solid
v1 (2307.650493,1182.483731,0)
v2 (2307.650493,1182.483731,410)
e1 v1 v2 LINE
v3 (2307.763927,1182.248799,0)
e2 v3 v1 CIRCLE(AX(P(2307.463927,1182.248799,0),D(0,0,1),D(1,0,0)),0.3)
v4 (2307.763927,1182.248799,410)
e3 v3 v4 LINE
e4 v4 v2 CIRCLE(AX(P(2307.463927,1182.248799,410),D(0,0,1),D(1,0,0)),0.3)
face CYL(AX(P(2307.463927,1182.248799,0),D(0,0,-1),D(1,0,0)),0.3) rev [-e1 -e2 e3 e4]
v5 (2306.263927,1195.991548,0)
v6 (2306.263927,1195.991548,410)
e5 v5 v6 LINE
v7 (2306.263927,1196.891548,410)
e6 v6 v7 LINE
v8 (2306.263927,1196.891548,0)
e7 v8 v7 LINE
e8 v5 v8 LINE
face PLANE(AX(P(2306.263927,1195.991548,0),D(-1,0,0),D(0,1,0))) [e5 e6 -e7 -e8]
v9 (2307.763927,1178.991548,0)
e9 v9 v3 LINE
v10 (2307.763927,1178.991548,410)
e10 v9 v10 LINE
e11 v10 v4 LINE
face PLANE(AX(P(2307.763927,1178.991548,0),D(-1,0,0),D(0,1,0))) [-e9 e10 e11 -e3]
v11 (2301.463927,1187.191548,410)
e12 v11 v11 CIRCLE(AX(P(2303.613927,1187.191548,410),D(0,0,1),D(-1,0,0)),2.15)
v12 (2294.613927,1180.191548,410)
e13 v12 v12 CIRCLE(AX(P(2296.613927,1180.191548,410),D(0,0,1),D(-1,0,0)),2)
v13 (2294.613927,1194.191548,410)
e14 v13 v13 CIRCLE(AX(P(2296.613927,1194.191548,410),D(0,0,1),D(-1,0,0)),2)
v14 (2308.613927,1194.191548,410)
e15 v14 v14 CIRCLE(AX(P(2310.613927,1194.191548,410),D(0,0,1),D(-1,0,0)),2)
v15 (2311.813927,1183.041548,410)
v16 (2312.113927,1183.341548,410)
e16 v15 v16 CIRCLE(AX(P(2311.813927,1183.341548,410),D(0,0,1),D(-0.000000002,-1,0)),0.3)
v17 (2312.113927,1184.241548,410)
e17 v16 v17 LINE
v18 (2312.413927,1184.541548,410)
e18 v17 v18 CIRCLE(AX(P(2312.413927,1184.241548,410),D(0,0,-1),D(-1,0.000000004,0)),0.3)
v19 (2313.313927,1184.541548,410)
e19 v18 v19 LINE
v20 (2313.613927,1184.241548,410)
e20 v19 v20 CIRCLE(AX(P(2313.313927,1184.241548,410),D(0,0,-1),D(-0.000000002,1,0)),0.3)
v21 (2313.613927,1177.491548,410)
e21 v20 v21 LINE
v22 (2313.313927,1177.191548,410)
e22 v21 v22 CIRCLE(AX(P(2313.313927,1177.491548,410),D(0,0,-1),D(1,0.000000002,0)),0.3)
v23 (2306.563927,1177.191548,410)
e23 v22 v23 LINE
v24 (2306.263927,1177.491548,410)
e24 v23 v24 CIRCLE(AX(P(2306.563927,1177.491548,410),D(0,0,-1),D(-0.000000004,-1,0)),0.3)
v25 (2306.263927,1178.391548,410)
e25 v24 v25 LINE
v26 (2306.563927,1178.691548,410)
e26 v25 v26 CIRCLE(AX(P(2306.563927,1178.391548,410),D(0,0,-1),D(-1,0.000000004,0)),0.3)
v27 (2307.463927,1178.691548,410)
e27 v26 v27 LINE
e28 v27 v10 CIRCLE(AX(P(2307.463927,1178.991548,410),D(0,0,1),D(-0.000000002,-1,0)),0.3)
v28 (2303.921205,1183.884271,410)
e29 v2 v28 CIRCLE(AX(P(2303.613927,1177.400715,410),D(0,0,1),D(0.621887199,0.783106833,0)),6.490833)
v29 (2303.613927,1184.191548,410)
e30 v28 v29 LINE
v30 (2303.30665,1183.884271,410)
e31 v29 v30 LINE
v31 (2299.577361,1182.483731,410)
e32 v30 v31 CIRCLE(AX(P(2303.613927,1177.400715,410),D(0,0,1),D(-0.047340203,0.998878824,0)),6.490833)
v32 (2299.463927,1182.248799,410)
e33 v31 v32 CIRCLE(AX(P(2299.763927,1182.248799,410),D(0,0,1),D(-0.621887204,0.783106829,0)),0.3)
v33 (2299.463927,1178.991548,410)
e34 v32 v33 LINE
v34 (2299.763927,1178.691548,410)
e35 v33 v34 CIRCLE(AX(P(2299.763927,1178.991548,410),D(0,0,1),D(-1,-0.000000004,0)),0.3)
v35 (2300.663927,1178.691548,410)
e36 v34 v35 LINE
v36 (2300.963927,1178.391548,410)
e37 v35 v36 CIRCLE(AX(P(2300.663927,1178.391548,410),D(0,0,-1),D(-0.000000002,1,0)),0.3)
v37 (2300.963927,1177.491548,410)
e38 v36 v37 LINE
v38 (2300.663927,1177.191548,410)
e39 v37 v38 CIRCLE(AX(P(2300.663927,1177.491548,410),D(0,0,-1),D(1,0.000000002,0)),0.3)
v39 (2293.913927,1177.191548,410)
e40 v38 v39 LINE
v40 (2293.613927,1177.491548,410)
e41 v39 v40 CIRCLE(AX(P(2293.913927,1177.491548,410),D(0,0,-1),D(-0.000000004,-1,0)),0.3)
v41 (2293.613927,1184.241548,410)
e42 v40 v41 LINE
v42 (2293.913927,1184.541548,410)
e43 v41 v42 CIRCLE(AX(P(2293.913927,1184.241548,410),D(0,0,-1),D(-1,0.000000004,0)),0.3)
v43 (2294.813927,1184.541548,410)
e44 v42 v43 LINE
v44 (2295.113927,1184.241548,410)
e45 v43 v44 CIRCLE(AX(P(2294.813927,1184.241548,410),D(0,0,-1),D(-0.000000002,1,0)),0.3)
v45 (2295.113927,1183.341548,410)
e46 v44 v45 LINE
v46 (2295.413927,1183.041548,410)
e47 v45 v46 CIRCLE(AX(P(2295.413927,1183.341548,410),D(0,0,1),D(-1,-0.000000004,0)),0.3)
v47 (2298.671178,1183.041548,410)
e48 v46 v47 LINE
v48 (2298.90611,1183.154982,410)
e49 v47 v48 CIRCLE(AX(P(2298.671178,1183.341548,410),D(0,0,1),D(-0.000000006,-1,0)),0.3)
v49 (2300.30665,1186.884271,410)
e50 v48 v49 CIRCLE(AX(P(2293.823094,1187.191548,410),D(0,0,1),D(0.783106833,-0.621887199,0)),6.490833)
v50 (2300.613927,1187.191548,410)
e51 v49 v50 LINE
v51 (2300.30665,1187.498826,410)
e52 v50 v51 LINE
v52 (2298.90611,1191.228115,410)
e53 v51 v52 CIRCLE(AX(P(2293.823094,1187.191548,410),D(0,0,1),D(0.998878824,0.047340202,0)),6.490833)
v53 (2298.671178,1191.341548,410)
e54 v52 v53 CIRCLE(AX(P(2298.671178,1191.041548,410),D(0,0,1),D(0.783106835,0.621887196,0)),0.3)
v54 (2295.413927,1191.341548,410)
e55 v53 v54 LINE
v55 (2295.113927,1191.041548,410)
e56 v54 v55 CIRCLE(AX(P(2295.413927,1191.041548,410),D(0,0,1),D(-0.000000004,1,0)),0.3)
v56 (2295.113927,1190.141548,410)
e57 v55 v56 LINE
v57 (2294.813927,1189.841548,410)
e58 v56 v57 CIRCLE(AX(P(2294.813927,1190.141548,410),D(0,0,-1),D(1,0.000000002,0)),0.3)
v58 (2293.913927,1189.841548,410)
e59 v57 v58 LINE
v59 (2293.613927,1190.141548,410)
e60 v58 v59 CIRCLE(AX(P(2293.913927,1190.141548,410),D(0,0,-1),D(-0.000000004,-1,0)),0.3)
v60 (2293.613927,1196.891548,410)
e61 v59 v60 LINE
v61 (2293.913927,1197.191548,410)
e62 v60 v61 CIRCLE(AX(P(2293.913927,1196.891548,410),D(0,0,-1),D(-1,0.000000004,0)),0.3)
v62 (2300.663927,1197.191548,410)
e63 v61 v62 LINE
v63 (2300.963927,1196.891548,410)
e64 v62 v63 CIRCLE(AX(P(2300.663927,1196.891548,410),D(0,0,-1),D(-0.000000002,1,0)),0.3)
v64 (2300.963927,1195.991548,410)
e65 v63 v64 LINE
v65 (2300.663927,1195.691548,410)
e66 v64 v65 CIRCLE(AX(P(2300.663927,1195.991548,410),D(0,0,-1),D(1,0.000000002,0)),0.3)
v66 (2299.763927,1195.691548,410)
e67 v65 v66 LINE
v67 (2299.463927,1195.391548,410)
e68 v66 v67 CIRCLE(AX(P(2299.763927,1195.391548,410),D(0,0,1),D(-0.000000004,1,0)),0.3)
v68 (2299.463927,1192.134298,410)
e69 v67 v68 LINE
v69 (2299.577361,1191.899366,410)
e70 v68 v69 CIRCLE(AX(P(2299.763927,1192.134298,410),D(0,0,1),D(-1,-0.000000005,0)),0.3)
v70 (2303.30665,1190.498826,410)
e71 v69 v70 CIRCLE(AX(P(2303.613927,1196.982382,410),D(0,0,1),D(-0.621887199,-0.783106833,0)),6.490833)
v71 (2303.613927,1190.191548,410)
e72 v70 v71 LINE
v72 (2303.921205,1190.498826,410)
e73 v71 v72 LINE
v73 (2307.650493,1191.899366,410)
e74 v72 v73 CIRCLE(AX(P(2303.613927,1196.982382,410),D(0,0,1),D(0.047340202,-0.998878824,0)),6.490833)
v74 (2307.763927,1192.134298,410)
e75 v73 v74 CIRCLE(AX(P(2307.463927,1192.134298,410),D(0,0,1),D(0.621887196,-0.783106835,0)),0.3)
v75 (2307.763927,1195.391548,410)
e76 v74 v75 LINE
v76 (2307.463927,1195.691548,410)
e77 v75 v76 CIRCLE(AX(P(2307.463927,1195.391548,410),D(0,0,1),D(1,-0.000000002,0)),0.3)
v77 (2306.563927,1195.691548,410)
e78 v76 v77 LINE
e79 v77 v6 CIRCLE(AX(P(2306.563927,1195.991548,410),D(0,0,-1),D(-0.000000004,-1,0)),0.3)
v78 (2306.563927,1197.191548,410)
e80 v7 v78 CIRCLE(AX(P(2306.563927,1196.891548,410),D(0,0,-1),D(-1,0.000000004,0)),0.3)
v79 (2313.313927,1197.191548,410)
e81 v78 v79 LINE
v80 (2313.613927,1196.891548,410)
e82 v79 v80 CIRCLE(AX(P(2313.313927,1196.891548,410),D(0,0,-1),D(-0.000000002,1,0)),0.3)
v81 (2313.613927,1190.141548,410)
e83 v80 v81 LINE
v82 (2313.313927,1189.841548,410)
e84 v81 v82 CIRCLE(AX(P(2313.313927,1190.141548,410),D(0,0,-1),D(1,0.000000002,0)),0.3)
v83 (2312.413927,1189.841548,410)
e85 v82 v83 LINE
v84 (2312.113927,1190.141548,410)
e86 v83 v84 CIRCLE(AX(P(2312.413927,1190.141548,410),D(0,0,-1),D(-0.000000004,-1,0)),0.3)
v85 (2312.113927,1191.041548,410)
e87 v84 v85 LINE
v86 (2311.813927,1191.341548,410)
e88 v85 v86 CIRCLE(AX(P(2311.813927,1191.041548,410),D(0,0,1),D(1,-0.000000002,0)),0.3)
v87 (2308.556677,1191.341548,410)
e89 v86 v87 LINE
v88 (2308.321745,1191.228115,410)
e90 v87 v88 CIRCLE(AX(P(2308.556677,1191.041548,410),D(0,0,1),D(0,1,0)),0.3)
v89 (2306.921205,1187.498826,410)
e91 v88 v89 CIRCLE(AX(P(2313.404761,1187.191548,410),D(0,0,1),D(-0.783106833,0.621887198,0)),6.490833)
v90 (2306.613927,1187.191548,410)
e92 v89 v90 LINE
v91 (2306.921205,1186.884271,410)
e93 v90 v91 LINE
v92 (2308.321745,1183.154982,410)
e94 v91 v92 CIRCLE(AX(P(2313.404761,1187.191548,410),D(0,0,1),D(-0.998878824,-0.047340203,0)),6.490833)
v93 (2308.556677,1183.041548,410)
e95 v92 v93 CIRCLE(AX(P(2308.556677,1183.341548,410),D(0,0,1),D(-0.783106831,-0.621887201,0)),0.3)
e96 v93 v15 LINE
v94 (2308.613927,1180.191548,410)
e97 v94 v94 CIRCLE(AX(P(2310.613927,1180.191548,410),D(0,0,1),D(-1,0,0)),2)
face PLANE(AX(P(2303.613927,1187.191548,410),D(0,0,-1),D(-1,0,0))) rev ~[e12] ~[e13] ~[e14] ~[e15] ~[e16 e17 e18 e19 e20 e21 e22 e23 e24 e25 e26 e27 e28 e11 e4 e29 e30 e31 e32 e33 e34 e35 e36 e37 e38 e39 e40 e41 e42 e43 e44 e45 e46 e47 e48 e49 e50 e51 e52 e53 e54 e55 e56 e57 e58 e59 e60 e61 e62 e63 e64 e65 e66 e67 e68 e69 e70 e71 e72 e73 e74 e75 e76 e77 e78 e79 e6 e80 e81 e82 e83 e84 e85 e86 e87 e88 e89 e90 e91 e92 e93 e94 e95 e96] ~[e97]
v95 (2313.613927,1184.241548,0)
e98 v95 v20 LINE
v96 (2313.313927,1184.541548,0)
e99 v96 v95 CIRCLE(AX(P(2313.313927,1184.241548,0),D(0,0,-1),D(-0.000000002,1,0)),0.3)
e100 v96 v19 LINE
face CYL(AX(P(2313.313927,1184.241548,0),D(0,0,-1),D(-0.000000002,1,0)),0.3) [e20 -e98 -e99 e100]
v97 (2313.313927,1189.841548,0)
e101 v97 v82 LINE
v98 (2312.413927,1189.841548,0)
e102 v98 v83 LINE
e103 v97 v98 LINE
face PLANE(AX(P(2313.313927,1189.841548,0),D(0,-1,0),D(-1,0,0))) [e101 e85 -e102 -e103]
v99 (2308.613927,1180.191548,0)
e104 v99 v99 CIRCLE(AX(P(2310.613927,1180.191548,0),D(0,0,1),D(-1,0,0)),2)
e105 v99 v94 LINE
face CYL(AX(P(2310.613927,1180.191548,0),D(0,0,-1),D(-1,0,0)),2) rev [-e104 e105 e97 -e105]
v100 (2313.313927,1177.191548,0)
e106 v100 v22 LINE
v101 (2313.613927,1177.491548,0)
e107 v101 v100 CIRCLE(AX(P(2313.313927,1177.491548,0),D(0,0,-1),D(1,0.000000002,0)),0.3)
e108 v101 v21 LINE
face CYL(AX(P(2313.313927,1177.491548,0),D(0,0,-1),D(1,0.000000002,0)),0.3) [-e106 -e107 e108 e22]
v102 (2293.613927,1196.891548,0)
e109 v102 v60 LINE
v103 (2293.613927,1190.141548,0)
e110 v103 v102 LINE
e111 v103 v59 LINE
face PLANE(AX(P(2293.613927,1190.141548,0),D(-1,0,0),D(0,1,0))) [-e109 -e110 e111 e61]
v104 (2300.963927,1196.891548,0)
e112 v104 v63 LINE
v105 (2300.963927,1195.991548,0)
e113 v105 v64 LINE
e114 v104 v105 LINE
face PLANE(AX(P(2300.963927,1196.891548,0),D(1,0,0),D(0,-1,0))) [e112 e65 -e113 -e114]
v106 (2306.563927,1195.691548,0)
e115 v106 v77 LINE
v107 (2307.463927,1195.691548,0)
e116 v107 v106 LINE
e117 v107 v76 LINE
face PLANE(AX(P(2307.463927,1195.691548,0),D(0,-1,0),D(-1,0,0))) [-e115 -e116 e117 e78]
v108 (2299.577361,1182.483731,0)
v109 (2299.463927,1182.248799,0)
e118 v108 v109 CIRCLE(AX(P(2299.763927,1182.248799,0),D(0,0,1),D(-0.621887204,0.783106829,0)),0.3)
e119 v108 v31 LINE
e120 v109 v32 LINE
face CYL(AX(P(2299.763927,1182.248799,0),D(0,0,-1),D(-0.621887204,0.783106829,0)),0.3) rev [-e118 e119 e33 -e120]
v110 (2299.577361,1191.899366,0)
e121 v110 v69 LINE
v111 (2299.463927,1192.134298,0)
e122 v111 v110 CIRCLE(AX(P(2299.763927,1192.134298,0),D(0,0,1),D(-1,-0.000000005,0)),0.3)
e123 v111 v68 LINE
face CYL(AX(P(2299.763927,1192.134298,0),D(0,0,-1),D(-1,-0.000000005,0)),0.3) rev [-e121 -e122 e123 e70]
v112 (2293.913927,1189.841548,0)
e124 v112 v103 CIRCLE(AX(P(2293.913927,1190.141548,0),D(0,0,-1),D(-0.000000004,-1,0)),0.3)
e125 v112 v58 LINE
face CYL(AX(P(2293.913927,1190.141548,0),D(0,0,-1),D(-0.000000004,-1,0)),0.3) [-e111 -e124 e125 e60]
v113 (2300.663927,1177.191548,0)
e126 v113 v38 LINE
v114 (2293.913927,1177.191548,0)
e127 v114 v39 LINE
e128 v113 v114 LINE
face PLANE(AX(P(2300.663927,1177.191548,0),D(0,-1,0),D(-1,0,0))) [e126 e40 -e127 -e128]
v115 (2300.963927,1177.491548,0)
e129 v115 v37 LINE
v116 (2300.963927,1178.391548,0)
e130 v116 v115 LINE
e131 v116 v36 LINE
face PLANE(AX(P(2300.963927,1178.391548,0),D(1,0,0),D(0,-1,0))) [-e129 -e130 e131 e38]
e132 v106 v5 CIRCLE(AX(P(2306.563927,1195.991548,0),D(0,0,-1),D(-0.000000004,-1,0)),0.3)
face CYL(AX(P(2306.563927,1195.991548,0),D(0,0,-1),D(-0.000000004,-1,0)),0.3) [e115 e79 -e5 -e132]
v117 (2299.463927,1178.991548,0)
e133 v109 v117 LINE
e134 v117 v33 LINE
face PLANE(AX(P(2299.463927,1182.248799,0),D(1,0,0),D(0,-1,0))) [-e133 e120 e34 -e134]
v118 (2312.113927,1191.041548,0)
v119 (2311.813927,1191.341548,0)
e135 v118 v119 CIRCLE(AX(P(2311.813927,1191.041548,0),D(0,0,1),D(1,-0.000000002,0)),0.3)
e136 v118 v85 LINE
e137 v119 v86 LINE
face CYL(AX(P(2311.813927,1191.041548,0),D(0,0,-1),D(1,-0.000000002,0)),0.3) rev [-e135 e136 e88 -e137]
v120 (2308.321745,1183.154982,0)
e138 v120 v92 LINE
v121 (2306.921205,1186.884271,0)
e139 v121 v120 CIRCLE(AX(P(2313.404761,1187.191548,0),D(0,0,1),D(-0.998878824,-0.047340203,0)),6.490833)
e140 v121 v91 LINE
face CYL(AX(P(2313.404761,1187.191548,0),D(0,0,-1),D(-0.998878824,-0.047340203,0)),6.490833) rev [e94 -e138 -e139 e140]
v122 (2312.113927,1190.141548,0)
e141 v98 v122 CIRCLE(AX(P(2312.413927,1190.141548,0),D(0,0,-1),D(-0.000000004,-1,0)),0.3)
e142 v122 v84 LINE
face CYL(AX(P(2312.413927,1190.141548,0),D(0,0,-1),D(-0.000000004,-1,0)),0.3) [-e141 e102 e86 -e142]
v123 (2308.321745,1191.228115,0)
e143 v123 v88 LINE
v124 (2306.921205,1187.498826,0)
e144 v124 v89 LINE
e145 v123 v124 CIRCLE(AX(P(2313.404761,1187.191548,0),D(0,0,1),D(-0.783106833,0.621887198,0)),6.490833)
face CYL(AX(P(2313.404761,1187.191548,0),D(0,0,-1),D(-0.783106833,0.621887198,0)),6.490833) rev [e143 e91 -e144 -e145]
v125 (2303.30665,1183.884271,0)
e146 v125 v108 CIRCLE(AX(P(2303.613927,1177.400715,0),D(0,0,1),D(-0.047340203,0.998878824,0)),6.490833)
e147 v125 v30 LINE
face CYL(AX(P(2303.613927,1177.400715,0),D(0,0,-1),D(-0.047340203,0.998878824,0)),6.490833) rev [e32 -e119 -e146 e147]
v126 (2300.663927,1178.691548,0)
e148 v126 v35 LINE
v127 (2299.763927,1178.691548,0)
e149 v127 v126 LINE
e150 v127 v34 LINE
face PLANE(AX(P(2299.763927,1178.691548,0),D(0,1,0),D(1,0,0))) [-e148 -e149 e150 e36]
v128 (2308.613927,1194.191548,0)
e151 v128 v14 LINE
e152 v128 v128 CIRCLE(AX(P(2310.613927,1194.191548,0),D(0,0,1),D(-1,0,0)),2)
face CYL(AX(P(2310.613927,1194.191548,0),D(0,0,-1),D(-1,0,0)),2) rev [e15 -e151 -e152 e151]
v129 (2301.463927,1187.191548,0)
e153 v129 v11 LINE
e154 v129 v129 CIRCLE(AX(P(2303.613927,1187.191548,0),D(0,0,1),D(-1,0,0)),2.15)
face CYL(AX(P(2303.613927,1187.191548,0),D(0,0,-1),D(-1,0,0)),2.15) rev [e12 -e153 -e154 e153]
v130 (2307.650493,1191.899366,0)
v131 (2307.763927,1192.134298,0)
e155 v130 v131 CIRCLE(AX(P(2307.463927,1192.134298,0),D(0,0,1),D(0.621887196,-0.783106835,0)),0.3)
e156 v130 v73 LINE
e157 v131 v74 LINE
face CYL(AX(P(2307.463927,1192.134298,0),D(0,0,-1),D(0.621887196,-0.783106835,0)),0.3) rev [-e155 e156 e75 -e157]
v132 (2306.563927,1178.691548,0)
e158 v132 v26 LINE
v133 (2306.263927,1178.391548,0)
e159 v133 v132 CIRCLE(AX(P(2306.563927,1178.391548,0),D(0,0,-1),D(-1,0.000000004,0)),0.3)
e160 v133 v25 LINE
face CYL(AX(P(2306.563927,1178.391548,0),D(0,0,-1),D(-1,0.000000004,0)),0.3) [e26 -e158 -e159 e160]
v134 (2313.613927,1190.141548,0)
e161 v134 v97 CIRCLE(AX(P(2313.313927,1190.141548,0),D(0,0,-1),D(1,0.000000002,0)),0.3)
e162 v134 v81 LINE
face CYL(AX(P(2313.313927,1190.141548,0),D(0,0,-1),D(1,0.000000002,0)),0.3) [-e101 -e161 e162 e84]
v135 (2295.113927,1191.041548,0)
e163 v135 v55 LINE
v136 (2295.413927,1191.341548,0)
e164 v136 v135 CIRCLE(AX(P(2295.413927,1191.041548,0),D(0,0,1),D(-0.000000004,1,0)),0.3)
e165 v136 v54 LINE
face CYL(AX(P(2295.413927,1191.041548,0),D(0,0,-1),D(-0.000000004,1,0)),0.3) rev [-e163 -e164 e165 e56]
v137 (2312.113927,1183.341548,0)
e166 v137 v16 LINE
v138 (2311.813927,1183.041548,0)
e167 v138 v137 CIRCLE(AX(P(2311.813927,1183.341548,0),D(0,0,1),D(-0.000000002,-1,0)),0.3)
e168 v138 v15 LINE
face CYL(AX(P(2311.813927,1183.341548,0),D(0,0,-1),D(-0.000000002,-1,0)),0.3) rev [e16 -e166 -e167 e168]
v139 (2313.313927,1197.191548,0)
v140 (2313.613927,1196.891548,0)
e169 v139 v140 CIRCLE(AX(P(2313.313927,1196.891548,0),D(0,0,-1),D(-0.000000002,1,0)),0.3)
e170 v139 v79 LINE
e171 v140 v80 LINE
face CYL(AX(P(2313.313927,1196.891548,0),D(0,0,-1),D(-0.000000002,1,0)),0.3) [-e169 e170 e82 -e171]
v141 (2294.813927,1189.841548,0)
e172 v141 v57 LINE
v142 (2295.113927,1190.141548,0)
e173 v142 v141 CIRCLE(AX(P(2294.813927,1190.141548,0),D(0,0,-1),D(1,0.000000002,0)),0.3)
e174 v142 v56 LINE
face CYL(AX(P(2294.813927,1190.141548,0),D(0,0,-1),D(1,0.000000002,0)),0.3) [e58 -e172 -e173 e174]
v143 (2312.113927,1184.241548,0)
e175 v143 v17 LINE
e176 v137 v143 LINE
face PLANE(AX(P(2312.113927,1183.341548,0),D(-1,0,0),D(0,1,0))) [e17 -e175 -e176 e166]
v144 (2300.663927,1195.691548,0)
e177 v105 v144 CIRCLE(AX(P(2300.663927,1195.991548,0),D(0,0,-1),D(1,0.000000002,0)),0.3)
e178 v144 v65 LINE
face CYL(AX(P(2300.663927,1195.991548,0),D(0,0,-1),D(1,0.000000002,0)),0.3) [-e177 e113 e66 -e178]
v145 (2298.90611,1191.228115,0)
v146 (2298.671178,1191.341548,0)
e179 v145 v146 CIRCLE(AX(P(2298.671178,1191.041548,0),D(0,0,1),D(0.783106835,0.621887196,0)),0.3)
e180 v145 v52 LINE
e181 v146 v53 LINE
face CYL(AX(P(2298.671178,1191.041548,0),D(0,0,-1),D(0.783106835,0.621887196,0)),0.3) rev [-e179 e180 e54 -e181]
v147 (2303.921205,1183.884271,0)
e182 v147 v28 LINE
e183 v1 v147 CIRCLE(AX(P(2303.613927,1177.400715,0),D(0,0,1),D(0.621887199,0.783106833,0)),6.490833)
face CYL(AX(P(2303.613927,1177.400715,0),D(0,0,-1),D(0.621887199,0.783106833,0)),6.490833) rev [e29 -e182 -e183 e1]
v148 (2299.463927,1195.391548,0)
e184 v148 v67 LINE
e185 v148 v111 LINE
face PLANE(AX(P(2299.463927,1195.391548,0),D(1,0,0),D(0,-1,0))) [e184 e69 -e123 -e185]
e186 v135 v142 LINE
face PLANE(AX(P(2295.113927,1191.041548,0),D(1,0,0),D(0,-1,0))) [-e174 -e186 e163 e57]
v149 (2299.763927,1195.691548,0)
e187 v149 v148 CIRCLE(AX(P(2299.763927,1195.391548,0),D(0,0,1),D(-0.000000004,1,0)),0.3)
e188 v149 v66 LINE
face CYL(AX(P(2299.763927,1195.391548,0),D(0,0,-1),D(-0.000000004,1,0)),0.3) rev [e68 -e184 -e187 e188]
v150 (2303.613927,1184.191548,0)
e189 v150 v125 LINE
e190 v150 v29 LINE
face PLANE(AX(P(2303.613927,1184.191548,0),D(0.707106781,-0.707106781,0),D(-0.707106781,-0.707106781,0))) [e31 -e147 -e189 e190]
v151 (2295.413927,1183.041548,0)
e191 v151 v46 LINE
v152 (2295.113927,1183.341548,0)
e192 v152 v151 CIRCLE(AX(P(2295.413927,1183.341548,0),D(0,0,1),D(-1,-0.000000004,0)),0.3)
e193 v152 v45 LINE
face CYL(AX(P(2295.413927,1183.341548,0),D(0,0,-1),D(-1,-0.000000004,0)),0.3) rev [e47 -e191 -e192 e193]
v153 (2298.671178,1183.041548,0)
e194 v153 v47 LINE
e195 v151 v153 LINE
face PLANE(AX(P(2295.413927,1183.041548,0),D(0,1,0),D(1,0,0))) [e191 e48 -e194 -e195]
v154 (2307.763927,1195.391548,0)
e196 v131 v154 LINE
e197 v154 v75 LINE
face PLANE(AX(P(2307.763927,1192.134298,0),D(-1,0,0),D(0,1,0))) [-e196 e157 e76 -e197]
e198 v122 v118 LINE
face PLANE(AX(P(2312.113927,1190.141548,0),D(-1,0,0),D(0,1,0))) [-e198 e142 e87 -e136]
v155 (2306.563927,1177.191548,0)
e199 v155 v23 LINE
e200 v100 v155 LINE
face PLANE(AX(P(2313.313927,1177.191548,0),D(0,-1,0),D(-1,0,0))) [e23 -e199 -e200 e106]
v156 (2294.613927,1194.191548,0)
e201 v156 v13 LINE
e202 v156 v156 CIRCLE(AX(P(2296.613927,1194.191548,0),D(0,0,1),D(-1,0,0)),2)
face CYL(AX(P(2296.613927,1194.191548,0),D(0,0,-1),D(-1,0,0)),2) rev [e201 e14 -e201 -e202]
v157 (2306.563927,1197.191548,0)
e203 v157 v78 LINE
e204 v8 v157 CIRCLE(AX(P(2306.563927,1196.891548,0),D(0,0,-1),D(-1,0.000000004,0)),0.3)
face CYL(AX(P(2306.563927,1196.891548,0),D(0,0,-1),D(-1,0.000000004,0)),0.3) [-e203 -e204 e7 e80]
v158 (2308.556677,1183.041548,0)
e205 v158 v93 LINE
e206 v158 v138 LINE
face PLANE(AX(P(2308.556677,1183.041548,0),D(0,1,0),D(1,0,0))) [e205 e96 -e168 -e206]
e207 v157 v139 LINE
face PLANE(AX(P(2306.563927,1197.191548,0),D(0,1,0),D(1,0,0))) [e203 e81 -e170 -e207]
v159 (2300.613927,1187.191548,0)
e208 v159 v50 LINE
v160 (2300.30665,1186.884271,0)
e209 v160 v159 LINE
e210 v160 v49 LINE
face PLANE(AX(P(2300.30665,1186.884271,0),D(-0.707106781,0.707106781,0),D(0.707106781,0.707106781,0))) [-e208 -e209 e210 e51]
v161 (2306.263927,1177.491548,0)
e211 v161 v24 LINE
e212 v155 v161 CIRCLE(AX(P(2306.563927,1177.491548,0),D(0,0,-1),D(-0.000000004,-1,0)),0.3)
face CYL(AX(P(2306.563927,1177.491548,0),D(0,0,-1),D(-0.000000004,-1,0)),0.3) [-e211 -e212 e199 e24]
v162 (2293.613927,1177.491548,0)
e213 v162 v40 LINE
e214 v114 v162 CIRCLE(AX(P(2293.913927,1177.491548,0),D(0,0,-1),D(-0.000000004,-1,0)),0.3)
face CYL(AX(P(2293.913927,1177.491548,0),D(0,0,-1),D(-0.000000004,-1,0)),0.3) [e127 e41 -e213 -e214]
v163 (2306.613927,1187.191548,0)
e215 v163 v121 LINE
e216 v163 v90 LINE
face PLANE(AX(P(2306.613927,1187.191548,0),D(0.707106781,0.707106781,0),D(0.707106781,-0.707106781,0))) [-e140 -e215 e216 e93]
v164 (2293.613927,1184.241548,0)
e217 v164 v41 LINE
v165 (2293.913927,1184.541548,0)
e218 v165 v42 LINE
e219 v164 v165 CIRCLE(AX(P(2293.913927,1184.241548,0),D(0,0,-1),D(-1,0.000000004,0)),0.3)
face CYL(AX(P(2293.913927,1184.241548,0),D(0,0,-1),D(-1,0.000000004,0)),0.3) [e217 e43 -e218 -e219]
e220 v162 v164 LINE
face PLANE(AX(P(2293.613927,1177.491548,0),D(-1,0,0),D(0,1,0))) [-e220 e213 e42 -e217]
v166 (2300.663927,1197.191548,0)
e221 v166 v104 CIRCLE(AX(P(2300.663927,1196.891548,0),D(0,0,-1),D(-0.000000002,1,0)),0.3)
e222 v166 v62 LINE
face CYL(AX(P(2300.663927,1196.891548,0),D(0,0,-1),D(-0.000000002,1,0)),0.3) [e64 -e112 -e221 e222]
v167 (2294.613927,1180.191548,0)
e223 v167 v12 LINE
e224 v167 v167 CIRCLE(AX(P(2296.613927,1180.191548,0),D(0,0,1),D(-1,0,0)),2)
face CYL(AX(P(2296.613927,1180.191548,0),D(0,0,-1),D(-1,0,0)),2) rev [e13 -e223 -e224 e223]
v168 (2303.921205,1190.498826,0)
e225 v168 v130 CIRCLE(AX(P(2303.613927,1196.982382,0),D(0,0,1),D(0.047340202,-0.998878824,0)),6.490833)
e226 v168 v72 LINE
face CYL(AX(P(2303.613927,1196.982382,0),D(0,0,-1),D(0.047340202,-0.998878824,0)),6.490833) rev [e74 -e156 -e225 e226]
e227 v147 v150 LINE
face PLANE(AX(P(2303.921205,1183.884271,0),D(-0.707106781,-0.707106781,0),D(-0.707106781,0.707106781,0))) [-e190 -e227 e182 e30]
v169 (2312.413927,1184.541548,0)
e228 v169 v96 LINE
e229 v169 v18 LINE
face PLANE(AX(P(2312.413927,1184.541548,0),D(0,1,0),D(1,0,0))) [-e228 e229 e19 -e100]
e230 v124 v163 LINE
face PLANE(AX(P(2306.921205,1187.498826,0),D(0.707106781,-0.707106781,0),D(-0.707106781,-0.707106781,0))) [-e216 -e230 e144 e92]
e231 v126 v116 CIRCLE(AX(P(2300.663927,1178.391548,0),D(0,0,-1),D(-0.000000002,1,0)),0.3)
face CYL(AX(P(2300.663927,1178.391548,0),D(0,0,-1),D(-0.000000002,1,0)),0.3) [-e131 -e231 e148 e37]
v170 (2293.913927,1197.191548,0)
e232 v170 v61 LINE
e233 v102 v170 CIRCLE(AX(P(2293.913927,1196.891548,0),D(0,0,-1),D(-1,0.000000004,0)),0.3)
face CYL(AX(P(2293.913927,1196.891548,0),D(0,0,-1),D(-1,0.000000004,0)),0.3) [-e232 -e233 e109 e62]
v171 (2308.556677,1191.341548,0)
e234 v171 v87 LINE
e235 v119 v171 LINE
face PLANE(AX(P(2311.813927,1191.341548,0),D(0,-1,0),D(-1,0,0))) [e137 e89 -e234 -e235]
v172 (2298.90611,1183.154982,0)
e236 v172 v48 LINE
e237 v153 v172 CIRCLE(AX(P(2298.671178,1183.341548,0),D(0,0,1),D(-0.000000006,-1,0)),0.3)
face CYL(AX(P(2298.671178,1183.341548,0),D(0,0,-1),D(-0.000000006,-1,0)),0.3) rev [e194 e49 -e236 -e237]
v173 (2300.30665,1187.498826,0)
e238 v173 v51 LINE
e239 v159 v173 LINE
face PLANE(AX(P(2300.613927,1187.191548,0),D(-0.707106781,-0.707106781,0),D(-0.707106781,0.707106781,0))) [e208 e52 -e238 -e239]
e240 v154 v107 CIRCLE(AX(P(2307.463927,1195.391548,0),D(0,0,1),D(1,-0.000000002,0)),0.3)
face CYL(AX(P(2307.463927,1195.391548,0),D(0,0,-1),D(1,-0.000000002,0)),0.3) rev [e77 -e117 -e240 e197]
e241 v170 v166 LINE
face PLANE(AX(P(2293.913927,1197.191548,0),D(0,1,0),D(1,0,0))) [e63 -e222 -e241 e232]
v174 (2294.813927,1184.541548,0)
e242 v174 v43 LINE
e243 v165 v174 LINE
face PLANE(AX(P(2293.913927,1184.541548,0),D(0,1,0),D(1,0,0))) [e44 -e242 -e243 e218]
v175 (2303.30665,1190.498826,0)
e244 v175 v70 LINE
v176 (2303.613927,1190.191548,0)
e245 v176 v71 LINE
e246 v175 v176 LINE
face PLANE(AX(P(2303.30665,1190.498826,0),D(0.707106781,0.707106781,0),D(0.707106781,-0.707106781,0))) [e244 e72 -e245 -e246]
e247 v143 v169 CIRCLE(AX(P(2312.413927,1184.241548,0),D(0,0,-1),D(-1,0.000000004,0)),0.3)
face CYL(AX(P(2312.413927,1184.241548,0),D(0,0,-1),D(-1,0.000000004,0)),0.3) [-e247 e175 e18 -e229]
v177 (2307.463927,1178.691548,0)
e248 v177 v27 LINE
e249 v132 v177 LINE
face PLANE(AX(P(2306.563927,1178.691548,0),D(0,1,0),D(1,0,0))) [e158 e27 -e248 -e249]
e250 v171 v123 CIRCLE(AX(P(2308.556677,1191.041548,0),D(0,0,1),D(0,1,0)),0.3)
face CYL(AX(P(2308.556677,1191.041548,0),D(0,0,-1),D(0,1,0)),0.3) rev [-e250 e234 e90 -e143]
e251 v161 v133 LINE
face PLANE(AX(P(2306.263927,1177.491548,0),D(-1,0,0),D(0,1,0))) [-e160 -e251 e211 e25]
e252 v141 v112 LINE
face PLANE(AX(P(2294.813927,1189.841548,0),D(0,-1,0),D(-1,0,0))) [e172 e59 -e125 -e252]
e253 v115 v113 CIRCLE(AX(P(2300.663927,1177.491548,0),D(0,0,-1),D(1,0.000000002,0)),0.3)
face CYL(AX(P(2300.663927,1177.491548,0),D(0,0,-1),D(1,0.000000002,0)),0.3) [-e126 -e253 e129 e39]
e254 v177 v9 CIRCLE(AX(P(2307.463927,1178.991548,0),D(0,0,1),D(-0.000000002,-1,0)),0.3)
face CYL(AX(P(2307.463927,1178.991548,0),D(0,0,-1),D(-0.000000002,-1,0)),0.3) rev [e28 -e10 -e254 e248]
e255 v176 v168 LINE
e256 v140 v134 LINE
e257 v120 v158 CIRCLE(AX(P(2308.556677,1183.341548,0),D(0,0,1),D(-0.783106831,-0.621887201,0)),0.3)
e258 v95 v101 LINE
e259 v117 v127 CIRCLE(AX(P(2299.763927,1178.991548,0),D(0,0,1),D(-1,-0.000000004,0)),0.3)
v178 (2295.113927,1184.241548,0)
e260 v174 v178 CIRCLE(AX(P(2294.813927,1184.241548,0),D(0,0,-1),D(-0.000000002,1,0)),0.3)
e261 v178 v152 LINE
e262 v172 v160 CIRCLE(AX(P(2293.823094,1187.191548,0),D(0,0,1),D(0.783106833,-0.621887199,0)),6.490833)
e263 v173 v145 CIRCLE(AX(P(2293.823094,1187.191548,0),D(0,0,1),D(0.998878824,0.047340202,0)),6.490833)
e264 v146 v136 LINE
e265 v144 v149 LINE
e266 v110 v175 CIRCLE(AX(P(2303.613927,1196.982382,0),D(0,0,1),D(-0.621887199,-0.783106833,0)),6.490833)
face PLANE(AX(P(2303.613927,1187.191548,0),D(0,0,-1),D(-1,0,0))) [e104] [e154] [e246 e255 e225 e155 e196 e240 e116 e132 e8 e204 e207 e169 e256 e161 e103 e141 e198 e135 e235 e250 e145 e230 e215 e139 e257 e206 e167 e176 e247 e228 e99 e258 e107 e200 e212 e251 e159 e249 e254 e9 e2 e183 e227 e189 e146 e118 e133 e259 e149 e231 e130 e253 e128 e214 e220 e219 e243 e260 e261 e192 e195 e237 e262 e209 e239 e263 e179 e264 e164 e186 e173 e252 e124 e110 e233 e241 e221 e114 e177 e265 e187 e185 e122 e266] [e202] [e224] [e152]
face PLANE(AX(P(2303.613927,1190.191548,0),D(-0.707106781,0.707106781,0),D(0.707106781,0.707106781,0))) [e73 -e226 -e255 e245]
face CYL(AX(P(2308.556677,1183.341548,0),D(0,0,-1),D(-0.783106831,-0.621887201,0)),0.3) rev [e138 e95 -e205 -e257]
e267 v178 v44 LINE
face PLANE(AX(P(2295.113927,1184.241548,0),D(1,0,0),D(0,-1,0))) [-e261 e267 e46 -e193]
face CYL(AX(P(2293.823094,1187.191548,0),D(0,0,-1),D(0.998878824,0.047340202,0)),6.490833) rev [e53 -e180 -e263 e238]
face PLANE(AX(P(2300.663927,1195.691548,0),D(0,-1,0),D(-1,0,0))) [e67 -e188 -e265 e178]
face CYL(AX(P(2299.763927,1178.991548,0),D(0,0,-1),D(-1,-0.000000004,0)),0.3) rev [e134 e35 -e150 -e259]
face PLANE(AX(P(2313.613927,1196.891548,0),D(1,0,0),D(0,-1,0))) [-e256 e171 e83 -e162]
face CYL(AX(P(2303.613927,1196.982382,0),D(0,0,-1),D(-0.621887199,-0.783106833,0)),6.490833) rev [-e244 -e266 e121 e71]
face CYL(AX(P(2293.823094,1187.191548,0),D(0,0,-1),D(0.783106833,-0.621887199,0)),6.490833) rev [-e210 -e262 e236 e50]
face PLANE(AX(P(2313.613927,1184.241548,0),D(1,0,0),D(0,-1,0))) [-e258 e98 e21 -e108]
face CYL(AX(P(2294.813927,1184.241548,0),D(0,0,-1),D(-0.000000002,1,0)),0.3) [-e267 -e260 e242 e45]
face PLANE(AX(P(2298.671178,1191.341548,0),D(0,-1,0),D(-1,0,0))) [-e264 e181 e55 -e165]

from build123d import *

# Parameters (mm, degrees)
MODEL_R         = 2.15
MODEL_R_2       = 2
EXTRUDE_1_DEPTH = 410


with BuildPart() as part:
    # Model → 보스-돌출1 (new body)
    with BuildSketch(Plane.XY):
        with BuildLine():
            Line((2307.763927197, 1192.134297913), (2307.763927197, 1195.391548465))
            ThreePointArc((2307.763927197, 1195.391548465), (2307.676059232, 1195.603680499), (2307.463927197, 1195.691548465))
            Line((2307.463927197, 1195.691548465), (2306.563927197, 1195.691548465))
            ThreePointArc((2306.563927197, 1195.691548465), (2306.351795163, 1195.779416431), (2306.263927197, 1195.991548465))
            Line((2306.263927197, 1195.991548465), (2306.263927197, 1196.891548465))
            ThreePointArc((2306.263927197, 1196.891548465), (2306.351795163, 1197.103680499), (2306.563927197, 1197.191548465))
            Line((2306.563927197, 1197.191548465), (2313.313927197, 1197.191548465))
            ThreePointArc((2313.313927197, 1197.191548465), (2313.526059232, 1197.103680499), (2313.613927197, 1196.891548465))
            Line((2313.613927197, 1196.891548465), (2313.613927197, 1190.141548465))
            ThreePointArc((2313.613927197, 1190.141548465), (2313.526059232, 1189.929416431), (2313.313927197, 1189.841548465))
            Line((2313.313927197, 1189.841548465), (2312.413927197, 1189.841548465))
            ThreePointArc((2312.413927197, 1189.841548465), (2312.201795163, 1189.929416431), (2312.113927197, 1190.141548465))
            Line((2312.113927197, 1190.141548465), (2312.113927197, 1191.041548465))
            ThreePointArc((2312.113927197, 1191.041548465), (2312.026059232, 1191.253680499), (2311.813927197, 1191.341548465))
            Line((2311.813927197, 1191.341548465), (2308.556676645, 1191.341548465))
            ThreePointArc((2308.556676645, 1191.341548465), (2308.426234796, 1191.311705686), (2308.321744595, 1191.228114625))
            ThreePointArc((2308.321744595, 1191.228114625), (2307.328306374, 1189.47356999), (2306.921204563, 1187.498825831))
            Line((2306.921204563, 1187.498825831), (2306.613927197, 1187.191548465))
            Line((2306.613927197, 1187.191548465), (2306.921204563, 1186.884271099))
            ThreePointArc((2306.921204563, 1186.884271099), (2307.328306374, 1184.90952694), (2308.321744595, 1183.154982305))
            ThreePointArc((2308.321744595, 1183.154982305), (2308.426234796, 1183.071391244), (2308.556676645, 1183.041548465))
            Line((2308.556676645, 1183.041548465), (2311.813927197, 1183.041548465))
            ThreePointArc((2311.813927197, 1183.041548465), (2312.026059232, 1183.129416431), (2312.113927197, 1183.341548465))
            Line((2312.113927197, 1183.341548465), (2312.113927197, 1184.241548465))
            ThreePointArc((2312.113927197, 1184.241548465), (2312.201795163, 1184.453680499), (2312.413927197, 1184.541548465))
            Line((2312.413927197, 1184.541548465), (2313.313927197, 1184.541548465))
            ThreePointArc((2313.313927197, 1184.541548465), (2313.526059232, 1184.453680499), (2313.613927197, 1184.241548465))
            Line((2313.613927197, 1184.241548465), (2313.613927197, 1177.491548465))
            ThreePointArc((2313.613927197, 1177.491548465), (2313.526059232, 1177.279416431), (2313.313927197, 1177.191548465))
            Line((2313.313927197, 1177.191548465), (2306.563927197, 1177.191548465))
            ThreePointArc((2306.563927197, 1177.191548465), (2306.351795163, 1177.279416431), (2306.263927197, 1177.491548465))
            Line((2306.263927197, 1177.491548465), (2306.263927197, 1178.391548465))
            ThreePointArc((2306.263927197, 1178.391548465), (2306.351795163, 1178.603680499), (2306.563927197, 1178.691548465))
            Line((2306.563927197, 1178.691548465), (2307.463927197, 1178.691548465))
            ThreePointArc((2307.463927197, 1178.691548465), (2307.676059232, 1178.779416431), (2307.763927197, 1178.991548465))
            Line((2307.763927197, 1178.991548465), (2307.763927197, 1182.248799017))
            ThreePointArc((2307.763927197, 1182.248799017), (2307.734084418, 1182.379240866), (2307.650493357, 1182.483731067))
            ThreePointArc((2307.650493357, 1182.483731067), (2305.895948722, 1183.477169289), (2303.921204563, 1183.884271099))
            Line((2303.921204563, 1183.884271099), (2303.613927197, 1184.191548465))
            Line((2303.613927197, 1184.191548465), (2303.306649831, 1183.884271099))
            ThreePointArc((2303.306649831, 1183.884271099), (2301.331905673, 1183.477169289), (2299.577361038, 1182.483731067))
            ThreePointArc((2299.577361038, 1182.483731067), (2299.493769977, 1182.379240866), (2299.463927197, 1182.248799017))
            Line((2299.463927197, 1182.248799017), (2299.463927197, 1178.991548465))
            ThreePointArc((2299.463927197, 1178.991548465), (2299.551795163, 1178.779416431), (2299.763927197, 1178.691548465))
            Line((2299.763927197, 1178.691548465), (2300.663927197, 1178.691548465))
            ThreePointArc((2300.663927197, 1178.691548465), (2300.876059232, 1178.603680499), (2300.963927197, 1178.391548465))
            Line((2300.963927197, 1178.391548465), (2300.963927197, 1177.491548465))
            ThreePointArc((2300.963927197, 1177.491548465), (2300.876059232, 1177.279416431), (2300.663927197, 1177.191548465))
            Line((2300.663927197, 1177.191548465), (2293.913927197, 1177.191548465))
            ThreePointArc((2293.913927197, 1177.191548465), (2293.701795163, 1177.279416431), (2293.613927197, 1177.491548465))
            Line((2293.613927197, 1177.491548465), (2293.613927197, 1184.241548465))
            ThreePointArc((2293.613927197, 1184.241548465), (2293.701795163, 1184.453680499), (2293.913927197, 1184.541548465))
            Line((2293.913927197, 1184.541548465), (2294.813927197, 1184.541548465))
            ThreePointArc((2294.813927197, 1184.541548465), (2295.026059232, 1184.453680499), (2295.113927197, 1184.241548465))
            Line((2295.113927197, 1184.241548465), (2295.113927197, 1183.341548465))
            ThreePointArc((2295.113927197, 1183.341548465), (2295.201795163, 1183.129416431), (2295.413927197, 1183.041548465))
            Line((2295.413927197, 1183.041548465), (2298.671177749, 1183.041548465))
            ThreePointArc((2298.671177749, 1183.041548465), (2298.801619599, 1183.071391244), (2298.906109799, 1183.154982305))
            ThreePointArc((2298.906109799, 1183.154982305), (2299.899548021, 1184.90952694), (2300.306649831, 1186.884271099))
            Line((2300.306649831, 1186.884271099), (2300.613927197, 1187.191548465))
            Line((2300.613927197, 1187.191548465), (2300.306649831, 1187.498825831))
            ThreePointArc((2300.306649831, 1187.498825831), (2299.899548021, 1189.47356999), (2298.906109799, 1191.228114625))
            ThreePointArc((2298.906109799, 1191.228114625), (2298.801619599, 1191.311705686), (2298.671177749, 1191.341548465))
            Line((2298.671177749, 1191.341548465), (2295.413927197, 1191.341548465))
            ThreePointArc((2295.413927197, 1191.341548465), (2295.201795163, 1191.253680499), (2295.113927197, 1191.041548465))
            Line((2295.113927197, 1191.041548465), (2295.113927197, 1190.141548465))
            ThreePointArc((2295.113927197, 1190.141548465), (2295.026059232, 1189.929416431), (2294.813927197, 1189.841548465))
            Line((2294.813927197, 1189.841548465), (2293.913927197, 1189.841548465))
            ThreePointArc((2293.913927197, 1189.841548465), (2293.701795163, 1189.929416431), (2293.613927197, 1190.141548465))
            Line((2293.613927197, 1190.141548465), (2293.613927197, 1196.891548465))
            ThreePointArc((2293.613927197, 1196.891548465), (2293.701795163, 1197.103680499), (2293.913927197, 1197.191548465))
            Line((2293.913927197, 1197.191548465), (2300.663927197, 1197.191548465))
            ThreePointArc((2300.663927197, 1197.191548465), (2300.876059232, 1197.103680499), (2300.963927197, 1196.891548465))
            Line((2300.963927197, 1196.891548465), (2300.963927197, 1195.991548465))
            ThreePointArc((2300.963927197, 1195.991548465), (2300.876059232, 1195.779416431), (2300.663927197, 1195.691548465))
            Line((2300.663927197, 1195.691548465), (2299.763927197, 1195.691548465))
            ThreePointArc((2299.763927197, 1195.691548465), (2299.551795163, 1195.603680499), (2299.463927197, 1195.391548465))
            Line((2299.463927197, 1195.391548465), (2299.463927197, 1192.134297913))
            ThreePointArc((2299.463927197, 1192.134297913), (2299.493769977, 1192.003856063), (2299.577361038, 1191.899365863))
            ThreePointArc((2299.577361038, 1191.899365863), (2301.331905673, 1190.905927641), (2303.306649831, 1190.498825831))
            Line((2303.306649831, 1190.498825831), (2303.613927197, 1190.191548465))
            Line((2303.613927197, 1190.191548465), (2303.921204563, 1190.498825831))
            ThreePointArc((2303.921204563, 1190.498825831), (2305.895948722, 1190.905927641), (2307.650493357, 1191.899365863))
            ThreePointArc((2307.650493357, 1191.899365863), (2307.734084418, 1192.003856063), (2307.763927197, 1192.134297913))
        make_face()
        with Locations(Location((2303.613927197, 1187.191548465, 0), (0, 0, 180))):
            Circle(MODEL_R, mode=Mode.SUBTRACT)
        with Locations(Location((2296.613927197, 1194.191548465, 0), (0, 0, 180))):
            Circle(MODEL_R_2, mode=Mode.SUBTRACT)
        with Locations(Location((2296.613927197, 1180.191548465, 0), (0, 0, 180))):
            Circle(MODEL_R_2, mode=Mode.SUBTRACT)
        with Locations(Location((2310.613927197, 1194.191548465, 0), (0, 0, 180))):
            Circle(MODEL_R_2, mode=Mode.SUBTRACT)
        with Locations(Location((2310.613927197, 1180.191548465, 0), (0, 0, 180))):
            Circle(MODEL_R_2, mode=Mode.SUBTRACT)
    extrude(amount=EXTRUDE_1_DEPTH)


solid = part.part
